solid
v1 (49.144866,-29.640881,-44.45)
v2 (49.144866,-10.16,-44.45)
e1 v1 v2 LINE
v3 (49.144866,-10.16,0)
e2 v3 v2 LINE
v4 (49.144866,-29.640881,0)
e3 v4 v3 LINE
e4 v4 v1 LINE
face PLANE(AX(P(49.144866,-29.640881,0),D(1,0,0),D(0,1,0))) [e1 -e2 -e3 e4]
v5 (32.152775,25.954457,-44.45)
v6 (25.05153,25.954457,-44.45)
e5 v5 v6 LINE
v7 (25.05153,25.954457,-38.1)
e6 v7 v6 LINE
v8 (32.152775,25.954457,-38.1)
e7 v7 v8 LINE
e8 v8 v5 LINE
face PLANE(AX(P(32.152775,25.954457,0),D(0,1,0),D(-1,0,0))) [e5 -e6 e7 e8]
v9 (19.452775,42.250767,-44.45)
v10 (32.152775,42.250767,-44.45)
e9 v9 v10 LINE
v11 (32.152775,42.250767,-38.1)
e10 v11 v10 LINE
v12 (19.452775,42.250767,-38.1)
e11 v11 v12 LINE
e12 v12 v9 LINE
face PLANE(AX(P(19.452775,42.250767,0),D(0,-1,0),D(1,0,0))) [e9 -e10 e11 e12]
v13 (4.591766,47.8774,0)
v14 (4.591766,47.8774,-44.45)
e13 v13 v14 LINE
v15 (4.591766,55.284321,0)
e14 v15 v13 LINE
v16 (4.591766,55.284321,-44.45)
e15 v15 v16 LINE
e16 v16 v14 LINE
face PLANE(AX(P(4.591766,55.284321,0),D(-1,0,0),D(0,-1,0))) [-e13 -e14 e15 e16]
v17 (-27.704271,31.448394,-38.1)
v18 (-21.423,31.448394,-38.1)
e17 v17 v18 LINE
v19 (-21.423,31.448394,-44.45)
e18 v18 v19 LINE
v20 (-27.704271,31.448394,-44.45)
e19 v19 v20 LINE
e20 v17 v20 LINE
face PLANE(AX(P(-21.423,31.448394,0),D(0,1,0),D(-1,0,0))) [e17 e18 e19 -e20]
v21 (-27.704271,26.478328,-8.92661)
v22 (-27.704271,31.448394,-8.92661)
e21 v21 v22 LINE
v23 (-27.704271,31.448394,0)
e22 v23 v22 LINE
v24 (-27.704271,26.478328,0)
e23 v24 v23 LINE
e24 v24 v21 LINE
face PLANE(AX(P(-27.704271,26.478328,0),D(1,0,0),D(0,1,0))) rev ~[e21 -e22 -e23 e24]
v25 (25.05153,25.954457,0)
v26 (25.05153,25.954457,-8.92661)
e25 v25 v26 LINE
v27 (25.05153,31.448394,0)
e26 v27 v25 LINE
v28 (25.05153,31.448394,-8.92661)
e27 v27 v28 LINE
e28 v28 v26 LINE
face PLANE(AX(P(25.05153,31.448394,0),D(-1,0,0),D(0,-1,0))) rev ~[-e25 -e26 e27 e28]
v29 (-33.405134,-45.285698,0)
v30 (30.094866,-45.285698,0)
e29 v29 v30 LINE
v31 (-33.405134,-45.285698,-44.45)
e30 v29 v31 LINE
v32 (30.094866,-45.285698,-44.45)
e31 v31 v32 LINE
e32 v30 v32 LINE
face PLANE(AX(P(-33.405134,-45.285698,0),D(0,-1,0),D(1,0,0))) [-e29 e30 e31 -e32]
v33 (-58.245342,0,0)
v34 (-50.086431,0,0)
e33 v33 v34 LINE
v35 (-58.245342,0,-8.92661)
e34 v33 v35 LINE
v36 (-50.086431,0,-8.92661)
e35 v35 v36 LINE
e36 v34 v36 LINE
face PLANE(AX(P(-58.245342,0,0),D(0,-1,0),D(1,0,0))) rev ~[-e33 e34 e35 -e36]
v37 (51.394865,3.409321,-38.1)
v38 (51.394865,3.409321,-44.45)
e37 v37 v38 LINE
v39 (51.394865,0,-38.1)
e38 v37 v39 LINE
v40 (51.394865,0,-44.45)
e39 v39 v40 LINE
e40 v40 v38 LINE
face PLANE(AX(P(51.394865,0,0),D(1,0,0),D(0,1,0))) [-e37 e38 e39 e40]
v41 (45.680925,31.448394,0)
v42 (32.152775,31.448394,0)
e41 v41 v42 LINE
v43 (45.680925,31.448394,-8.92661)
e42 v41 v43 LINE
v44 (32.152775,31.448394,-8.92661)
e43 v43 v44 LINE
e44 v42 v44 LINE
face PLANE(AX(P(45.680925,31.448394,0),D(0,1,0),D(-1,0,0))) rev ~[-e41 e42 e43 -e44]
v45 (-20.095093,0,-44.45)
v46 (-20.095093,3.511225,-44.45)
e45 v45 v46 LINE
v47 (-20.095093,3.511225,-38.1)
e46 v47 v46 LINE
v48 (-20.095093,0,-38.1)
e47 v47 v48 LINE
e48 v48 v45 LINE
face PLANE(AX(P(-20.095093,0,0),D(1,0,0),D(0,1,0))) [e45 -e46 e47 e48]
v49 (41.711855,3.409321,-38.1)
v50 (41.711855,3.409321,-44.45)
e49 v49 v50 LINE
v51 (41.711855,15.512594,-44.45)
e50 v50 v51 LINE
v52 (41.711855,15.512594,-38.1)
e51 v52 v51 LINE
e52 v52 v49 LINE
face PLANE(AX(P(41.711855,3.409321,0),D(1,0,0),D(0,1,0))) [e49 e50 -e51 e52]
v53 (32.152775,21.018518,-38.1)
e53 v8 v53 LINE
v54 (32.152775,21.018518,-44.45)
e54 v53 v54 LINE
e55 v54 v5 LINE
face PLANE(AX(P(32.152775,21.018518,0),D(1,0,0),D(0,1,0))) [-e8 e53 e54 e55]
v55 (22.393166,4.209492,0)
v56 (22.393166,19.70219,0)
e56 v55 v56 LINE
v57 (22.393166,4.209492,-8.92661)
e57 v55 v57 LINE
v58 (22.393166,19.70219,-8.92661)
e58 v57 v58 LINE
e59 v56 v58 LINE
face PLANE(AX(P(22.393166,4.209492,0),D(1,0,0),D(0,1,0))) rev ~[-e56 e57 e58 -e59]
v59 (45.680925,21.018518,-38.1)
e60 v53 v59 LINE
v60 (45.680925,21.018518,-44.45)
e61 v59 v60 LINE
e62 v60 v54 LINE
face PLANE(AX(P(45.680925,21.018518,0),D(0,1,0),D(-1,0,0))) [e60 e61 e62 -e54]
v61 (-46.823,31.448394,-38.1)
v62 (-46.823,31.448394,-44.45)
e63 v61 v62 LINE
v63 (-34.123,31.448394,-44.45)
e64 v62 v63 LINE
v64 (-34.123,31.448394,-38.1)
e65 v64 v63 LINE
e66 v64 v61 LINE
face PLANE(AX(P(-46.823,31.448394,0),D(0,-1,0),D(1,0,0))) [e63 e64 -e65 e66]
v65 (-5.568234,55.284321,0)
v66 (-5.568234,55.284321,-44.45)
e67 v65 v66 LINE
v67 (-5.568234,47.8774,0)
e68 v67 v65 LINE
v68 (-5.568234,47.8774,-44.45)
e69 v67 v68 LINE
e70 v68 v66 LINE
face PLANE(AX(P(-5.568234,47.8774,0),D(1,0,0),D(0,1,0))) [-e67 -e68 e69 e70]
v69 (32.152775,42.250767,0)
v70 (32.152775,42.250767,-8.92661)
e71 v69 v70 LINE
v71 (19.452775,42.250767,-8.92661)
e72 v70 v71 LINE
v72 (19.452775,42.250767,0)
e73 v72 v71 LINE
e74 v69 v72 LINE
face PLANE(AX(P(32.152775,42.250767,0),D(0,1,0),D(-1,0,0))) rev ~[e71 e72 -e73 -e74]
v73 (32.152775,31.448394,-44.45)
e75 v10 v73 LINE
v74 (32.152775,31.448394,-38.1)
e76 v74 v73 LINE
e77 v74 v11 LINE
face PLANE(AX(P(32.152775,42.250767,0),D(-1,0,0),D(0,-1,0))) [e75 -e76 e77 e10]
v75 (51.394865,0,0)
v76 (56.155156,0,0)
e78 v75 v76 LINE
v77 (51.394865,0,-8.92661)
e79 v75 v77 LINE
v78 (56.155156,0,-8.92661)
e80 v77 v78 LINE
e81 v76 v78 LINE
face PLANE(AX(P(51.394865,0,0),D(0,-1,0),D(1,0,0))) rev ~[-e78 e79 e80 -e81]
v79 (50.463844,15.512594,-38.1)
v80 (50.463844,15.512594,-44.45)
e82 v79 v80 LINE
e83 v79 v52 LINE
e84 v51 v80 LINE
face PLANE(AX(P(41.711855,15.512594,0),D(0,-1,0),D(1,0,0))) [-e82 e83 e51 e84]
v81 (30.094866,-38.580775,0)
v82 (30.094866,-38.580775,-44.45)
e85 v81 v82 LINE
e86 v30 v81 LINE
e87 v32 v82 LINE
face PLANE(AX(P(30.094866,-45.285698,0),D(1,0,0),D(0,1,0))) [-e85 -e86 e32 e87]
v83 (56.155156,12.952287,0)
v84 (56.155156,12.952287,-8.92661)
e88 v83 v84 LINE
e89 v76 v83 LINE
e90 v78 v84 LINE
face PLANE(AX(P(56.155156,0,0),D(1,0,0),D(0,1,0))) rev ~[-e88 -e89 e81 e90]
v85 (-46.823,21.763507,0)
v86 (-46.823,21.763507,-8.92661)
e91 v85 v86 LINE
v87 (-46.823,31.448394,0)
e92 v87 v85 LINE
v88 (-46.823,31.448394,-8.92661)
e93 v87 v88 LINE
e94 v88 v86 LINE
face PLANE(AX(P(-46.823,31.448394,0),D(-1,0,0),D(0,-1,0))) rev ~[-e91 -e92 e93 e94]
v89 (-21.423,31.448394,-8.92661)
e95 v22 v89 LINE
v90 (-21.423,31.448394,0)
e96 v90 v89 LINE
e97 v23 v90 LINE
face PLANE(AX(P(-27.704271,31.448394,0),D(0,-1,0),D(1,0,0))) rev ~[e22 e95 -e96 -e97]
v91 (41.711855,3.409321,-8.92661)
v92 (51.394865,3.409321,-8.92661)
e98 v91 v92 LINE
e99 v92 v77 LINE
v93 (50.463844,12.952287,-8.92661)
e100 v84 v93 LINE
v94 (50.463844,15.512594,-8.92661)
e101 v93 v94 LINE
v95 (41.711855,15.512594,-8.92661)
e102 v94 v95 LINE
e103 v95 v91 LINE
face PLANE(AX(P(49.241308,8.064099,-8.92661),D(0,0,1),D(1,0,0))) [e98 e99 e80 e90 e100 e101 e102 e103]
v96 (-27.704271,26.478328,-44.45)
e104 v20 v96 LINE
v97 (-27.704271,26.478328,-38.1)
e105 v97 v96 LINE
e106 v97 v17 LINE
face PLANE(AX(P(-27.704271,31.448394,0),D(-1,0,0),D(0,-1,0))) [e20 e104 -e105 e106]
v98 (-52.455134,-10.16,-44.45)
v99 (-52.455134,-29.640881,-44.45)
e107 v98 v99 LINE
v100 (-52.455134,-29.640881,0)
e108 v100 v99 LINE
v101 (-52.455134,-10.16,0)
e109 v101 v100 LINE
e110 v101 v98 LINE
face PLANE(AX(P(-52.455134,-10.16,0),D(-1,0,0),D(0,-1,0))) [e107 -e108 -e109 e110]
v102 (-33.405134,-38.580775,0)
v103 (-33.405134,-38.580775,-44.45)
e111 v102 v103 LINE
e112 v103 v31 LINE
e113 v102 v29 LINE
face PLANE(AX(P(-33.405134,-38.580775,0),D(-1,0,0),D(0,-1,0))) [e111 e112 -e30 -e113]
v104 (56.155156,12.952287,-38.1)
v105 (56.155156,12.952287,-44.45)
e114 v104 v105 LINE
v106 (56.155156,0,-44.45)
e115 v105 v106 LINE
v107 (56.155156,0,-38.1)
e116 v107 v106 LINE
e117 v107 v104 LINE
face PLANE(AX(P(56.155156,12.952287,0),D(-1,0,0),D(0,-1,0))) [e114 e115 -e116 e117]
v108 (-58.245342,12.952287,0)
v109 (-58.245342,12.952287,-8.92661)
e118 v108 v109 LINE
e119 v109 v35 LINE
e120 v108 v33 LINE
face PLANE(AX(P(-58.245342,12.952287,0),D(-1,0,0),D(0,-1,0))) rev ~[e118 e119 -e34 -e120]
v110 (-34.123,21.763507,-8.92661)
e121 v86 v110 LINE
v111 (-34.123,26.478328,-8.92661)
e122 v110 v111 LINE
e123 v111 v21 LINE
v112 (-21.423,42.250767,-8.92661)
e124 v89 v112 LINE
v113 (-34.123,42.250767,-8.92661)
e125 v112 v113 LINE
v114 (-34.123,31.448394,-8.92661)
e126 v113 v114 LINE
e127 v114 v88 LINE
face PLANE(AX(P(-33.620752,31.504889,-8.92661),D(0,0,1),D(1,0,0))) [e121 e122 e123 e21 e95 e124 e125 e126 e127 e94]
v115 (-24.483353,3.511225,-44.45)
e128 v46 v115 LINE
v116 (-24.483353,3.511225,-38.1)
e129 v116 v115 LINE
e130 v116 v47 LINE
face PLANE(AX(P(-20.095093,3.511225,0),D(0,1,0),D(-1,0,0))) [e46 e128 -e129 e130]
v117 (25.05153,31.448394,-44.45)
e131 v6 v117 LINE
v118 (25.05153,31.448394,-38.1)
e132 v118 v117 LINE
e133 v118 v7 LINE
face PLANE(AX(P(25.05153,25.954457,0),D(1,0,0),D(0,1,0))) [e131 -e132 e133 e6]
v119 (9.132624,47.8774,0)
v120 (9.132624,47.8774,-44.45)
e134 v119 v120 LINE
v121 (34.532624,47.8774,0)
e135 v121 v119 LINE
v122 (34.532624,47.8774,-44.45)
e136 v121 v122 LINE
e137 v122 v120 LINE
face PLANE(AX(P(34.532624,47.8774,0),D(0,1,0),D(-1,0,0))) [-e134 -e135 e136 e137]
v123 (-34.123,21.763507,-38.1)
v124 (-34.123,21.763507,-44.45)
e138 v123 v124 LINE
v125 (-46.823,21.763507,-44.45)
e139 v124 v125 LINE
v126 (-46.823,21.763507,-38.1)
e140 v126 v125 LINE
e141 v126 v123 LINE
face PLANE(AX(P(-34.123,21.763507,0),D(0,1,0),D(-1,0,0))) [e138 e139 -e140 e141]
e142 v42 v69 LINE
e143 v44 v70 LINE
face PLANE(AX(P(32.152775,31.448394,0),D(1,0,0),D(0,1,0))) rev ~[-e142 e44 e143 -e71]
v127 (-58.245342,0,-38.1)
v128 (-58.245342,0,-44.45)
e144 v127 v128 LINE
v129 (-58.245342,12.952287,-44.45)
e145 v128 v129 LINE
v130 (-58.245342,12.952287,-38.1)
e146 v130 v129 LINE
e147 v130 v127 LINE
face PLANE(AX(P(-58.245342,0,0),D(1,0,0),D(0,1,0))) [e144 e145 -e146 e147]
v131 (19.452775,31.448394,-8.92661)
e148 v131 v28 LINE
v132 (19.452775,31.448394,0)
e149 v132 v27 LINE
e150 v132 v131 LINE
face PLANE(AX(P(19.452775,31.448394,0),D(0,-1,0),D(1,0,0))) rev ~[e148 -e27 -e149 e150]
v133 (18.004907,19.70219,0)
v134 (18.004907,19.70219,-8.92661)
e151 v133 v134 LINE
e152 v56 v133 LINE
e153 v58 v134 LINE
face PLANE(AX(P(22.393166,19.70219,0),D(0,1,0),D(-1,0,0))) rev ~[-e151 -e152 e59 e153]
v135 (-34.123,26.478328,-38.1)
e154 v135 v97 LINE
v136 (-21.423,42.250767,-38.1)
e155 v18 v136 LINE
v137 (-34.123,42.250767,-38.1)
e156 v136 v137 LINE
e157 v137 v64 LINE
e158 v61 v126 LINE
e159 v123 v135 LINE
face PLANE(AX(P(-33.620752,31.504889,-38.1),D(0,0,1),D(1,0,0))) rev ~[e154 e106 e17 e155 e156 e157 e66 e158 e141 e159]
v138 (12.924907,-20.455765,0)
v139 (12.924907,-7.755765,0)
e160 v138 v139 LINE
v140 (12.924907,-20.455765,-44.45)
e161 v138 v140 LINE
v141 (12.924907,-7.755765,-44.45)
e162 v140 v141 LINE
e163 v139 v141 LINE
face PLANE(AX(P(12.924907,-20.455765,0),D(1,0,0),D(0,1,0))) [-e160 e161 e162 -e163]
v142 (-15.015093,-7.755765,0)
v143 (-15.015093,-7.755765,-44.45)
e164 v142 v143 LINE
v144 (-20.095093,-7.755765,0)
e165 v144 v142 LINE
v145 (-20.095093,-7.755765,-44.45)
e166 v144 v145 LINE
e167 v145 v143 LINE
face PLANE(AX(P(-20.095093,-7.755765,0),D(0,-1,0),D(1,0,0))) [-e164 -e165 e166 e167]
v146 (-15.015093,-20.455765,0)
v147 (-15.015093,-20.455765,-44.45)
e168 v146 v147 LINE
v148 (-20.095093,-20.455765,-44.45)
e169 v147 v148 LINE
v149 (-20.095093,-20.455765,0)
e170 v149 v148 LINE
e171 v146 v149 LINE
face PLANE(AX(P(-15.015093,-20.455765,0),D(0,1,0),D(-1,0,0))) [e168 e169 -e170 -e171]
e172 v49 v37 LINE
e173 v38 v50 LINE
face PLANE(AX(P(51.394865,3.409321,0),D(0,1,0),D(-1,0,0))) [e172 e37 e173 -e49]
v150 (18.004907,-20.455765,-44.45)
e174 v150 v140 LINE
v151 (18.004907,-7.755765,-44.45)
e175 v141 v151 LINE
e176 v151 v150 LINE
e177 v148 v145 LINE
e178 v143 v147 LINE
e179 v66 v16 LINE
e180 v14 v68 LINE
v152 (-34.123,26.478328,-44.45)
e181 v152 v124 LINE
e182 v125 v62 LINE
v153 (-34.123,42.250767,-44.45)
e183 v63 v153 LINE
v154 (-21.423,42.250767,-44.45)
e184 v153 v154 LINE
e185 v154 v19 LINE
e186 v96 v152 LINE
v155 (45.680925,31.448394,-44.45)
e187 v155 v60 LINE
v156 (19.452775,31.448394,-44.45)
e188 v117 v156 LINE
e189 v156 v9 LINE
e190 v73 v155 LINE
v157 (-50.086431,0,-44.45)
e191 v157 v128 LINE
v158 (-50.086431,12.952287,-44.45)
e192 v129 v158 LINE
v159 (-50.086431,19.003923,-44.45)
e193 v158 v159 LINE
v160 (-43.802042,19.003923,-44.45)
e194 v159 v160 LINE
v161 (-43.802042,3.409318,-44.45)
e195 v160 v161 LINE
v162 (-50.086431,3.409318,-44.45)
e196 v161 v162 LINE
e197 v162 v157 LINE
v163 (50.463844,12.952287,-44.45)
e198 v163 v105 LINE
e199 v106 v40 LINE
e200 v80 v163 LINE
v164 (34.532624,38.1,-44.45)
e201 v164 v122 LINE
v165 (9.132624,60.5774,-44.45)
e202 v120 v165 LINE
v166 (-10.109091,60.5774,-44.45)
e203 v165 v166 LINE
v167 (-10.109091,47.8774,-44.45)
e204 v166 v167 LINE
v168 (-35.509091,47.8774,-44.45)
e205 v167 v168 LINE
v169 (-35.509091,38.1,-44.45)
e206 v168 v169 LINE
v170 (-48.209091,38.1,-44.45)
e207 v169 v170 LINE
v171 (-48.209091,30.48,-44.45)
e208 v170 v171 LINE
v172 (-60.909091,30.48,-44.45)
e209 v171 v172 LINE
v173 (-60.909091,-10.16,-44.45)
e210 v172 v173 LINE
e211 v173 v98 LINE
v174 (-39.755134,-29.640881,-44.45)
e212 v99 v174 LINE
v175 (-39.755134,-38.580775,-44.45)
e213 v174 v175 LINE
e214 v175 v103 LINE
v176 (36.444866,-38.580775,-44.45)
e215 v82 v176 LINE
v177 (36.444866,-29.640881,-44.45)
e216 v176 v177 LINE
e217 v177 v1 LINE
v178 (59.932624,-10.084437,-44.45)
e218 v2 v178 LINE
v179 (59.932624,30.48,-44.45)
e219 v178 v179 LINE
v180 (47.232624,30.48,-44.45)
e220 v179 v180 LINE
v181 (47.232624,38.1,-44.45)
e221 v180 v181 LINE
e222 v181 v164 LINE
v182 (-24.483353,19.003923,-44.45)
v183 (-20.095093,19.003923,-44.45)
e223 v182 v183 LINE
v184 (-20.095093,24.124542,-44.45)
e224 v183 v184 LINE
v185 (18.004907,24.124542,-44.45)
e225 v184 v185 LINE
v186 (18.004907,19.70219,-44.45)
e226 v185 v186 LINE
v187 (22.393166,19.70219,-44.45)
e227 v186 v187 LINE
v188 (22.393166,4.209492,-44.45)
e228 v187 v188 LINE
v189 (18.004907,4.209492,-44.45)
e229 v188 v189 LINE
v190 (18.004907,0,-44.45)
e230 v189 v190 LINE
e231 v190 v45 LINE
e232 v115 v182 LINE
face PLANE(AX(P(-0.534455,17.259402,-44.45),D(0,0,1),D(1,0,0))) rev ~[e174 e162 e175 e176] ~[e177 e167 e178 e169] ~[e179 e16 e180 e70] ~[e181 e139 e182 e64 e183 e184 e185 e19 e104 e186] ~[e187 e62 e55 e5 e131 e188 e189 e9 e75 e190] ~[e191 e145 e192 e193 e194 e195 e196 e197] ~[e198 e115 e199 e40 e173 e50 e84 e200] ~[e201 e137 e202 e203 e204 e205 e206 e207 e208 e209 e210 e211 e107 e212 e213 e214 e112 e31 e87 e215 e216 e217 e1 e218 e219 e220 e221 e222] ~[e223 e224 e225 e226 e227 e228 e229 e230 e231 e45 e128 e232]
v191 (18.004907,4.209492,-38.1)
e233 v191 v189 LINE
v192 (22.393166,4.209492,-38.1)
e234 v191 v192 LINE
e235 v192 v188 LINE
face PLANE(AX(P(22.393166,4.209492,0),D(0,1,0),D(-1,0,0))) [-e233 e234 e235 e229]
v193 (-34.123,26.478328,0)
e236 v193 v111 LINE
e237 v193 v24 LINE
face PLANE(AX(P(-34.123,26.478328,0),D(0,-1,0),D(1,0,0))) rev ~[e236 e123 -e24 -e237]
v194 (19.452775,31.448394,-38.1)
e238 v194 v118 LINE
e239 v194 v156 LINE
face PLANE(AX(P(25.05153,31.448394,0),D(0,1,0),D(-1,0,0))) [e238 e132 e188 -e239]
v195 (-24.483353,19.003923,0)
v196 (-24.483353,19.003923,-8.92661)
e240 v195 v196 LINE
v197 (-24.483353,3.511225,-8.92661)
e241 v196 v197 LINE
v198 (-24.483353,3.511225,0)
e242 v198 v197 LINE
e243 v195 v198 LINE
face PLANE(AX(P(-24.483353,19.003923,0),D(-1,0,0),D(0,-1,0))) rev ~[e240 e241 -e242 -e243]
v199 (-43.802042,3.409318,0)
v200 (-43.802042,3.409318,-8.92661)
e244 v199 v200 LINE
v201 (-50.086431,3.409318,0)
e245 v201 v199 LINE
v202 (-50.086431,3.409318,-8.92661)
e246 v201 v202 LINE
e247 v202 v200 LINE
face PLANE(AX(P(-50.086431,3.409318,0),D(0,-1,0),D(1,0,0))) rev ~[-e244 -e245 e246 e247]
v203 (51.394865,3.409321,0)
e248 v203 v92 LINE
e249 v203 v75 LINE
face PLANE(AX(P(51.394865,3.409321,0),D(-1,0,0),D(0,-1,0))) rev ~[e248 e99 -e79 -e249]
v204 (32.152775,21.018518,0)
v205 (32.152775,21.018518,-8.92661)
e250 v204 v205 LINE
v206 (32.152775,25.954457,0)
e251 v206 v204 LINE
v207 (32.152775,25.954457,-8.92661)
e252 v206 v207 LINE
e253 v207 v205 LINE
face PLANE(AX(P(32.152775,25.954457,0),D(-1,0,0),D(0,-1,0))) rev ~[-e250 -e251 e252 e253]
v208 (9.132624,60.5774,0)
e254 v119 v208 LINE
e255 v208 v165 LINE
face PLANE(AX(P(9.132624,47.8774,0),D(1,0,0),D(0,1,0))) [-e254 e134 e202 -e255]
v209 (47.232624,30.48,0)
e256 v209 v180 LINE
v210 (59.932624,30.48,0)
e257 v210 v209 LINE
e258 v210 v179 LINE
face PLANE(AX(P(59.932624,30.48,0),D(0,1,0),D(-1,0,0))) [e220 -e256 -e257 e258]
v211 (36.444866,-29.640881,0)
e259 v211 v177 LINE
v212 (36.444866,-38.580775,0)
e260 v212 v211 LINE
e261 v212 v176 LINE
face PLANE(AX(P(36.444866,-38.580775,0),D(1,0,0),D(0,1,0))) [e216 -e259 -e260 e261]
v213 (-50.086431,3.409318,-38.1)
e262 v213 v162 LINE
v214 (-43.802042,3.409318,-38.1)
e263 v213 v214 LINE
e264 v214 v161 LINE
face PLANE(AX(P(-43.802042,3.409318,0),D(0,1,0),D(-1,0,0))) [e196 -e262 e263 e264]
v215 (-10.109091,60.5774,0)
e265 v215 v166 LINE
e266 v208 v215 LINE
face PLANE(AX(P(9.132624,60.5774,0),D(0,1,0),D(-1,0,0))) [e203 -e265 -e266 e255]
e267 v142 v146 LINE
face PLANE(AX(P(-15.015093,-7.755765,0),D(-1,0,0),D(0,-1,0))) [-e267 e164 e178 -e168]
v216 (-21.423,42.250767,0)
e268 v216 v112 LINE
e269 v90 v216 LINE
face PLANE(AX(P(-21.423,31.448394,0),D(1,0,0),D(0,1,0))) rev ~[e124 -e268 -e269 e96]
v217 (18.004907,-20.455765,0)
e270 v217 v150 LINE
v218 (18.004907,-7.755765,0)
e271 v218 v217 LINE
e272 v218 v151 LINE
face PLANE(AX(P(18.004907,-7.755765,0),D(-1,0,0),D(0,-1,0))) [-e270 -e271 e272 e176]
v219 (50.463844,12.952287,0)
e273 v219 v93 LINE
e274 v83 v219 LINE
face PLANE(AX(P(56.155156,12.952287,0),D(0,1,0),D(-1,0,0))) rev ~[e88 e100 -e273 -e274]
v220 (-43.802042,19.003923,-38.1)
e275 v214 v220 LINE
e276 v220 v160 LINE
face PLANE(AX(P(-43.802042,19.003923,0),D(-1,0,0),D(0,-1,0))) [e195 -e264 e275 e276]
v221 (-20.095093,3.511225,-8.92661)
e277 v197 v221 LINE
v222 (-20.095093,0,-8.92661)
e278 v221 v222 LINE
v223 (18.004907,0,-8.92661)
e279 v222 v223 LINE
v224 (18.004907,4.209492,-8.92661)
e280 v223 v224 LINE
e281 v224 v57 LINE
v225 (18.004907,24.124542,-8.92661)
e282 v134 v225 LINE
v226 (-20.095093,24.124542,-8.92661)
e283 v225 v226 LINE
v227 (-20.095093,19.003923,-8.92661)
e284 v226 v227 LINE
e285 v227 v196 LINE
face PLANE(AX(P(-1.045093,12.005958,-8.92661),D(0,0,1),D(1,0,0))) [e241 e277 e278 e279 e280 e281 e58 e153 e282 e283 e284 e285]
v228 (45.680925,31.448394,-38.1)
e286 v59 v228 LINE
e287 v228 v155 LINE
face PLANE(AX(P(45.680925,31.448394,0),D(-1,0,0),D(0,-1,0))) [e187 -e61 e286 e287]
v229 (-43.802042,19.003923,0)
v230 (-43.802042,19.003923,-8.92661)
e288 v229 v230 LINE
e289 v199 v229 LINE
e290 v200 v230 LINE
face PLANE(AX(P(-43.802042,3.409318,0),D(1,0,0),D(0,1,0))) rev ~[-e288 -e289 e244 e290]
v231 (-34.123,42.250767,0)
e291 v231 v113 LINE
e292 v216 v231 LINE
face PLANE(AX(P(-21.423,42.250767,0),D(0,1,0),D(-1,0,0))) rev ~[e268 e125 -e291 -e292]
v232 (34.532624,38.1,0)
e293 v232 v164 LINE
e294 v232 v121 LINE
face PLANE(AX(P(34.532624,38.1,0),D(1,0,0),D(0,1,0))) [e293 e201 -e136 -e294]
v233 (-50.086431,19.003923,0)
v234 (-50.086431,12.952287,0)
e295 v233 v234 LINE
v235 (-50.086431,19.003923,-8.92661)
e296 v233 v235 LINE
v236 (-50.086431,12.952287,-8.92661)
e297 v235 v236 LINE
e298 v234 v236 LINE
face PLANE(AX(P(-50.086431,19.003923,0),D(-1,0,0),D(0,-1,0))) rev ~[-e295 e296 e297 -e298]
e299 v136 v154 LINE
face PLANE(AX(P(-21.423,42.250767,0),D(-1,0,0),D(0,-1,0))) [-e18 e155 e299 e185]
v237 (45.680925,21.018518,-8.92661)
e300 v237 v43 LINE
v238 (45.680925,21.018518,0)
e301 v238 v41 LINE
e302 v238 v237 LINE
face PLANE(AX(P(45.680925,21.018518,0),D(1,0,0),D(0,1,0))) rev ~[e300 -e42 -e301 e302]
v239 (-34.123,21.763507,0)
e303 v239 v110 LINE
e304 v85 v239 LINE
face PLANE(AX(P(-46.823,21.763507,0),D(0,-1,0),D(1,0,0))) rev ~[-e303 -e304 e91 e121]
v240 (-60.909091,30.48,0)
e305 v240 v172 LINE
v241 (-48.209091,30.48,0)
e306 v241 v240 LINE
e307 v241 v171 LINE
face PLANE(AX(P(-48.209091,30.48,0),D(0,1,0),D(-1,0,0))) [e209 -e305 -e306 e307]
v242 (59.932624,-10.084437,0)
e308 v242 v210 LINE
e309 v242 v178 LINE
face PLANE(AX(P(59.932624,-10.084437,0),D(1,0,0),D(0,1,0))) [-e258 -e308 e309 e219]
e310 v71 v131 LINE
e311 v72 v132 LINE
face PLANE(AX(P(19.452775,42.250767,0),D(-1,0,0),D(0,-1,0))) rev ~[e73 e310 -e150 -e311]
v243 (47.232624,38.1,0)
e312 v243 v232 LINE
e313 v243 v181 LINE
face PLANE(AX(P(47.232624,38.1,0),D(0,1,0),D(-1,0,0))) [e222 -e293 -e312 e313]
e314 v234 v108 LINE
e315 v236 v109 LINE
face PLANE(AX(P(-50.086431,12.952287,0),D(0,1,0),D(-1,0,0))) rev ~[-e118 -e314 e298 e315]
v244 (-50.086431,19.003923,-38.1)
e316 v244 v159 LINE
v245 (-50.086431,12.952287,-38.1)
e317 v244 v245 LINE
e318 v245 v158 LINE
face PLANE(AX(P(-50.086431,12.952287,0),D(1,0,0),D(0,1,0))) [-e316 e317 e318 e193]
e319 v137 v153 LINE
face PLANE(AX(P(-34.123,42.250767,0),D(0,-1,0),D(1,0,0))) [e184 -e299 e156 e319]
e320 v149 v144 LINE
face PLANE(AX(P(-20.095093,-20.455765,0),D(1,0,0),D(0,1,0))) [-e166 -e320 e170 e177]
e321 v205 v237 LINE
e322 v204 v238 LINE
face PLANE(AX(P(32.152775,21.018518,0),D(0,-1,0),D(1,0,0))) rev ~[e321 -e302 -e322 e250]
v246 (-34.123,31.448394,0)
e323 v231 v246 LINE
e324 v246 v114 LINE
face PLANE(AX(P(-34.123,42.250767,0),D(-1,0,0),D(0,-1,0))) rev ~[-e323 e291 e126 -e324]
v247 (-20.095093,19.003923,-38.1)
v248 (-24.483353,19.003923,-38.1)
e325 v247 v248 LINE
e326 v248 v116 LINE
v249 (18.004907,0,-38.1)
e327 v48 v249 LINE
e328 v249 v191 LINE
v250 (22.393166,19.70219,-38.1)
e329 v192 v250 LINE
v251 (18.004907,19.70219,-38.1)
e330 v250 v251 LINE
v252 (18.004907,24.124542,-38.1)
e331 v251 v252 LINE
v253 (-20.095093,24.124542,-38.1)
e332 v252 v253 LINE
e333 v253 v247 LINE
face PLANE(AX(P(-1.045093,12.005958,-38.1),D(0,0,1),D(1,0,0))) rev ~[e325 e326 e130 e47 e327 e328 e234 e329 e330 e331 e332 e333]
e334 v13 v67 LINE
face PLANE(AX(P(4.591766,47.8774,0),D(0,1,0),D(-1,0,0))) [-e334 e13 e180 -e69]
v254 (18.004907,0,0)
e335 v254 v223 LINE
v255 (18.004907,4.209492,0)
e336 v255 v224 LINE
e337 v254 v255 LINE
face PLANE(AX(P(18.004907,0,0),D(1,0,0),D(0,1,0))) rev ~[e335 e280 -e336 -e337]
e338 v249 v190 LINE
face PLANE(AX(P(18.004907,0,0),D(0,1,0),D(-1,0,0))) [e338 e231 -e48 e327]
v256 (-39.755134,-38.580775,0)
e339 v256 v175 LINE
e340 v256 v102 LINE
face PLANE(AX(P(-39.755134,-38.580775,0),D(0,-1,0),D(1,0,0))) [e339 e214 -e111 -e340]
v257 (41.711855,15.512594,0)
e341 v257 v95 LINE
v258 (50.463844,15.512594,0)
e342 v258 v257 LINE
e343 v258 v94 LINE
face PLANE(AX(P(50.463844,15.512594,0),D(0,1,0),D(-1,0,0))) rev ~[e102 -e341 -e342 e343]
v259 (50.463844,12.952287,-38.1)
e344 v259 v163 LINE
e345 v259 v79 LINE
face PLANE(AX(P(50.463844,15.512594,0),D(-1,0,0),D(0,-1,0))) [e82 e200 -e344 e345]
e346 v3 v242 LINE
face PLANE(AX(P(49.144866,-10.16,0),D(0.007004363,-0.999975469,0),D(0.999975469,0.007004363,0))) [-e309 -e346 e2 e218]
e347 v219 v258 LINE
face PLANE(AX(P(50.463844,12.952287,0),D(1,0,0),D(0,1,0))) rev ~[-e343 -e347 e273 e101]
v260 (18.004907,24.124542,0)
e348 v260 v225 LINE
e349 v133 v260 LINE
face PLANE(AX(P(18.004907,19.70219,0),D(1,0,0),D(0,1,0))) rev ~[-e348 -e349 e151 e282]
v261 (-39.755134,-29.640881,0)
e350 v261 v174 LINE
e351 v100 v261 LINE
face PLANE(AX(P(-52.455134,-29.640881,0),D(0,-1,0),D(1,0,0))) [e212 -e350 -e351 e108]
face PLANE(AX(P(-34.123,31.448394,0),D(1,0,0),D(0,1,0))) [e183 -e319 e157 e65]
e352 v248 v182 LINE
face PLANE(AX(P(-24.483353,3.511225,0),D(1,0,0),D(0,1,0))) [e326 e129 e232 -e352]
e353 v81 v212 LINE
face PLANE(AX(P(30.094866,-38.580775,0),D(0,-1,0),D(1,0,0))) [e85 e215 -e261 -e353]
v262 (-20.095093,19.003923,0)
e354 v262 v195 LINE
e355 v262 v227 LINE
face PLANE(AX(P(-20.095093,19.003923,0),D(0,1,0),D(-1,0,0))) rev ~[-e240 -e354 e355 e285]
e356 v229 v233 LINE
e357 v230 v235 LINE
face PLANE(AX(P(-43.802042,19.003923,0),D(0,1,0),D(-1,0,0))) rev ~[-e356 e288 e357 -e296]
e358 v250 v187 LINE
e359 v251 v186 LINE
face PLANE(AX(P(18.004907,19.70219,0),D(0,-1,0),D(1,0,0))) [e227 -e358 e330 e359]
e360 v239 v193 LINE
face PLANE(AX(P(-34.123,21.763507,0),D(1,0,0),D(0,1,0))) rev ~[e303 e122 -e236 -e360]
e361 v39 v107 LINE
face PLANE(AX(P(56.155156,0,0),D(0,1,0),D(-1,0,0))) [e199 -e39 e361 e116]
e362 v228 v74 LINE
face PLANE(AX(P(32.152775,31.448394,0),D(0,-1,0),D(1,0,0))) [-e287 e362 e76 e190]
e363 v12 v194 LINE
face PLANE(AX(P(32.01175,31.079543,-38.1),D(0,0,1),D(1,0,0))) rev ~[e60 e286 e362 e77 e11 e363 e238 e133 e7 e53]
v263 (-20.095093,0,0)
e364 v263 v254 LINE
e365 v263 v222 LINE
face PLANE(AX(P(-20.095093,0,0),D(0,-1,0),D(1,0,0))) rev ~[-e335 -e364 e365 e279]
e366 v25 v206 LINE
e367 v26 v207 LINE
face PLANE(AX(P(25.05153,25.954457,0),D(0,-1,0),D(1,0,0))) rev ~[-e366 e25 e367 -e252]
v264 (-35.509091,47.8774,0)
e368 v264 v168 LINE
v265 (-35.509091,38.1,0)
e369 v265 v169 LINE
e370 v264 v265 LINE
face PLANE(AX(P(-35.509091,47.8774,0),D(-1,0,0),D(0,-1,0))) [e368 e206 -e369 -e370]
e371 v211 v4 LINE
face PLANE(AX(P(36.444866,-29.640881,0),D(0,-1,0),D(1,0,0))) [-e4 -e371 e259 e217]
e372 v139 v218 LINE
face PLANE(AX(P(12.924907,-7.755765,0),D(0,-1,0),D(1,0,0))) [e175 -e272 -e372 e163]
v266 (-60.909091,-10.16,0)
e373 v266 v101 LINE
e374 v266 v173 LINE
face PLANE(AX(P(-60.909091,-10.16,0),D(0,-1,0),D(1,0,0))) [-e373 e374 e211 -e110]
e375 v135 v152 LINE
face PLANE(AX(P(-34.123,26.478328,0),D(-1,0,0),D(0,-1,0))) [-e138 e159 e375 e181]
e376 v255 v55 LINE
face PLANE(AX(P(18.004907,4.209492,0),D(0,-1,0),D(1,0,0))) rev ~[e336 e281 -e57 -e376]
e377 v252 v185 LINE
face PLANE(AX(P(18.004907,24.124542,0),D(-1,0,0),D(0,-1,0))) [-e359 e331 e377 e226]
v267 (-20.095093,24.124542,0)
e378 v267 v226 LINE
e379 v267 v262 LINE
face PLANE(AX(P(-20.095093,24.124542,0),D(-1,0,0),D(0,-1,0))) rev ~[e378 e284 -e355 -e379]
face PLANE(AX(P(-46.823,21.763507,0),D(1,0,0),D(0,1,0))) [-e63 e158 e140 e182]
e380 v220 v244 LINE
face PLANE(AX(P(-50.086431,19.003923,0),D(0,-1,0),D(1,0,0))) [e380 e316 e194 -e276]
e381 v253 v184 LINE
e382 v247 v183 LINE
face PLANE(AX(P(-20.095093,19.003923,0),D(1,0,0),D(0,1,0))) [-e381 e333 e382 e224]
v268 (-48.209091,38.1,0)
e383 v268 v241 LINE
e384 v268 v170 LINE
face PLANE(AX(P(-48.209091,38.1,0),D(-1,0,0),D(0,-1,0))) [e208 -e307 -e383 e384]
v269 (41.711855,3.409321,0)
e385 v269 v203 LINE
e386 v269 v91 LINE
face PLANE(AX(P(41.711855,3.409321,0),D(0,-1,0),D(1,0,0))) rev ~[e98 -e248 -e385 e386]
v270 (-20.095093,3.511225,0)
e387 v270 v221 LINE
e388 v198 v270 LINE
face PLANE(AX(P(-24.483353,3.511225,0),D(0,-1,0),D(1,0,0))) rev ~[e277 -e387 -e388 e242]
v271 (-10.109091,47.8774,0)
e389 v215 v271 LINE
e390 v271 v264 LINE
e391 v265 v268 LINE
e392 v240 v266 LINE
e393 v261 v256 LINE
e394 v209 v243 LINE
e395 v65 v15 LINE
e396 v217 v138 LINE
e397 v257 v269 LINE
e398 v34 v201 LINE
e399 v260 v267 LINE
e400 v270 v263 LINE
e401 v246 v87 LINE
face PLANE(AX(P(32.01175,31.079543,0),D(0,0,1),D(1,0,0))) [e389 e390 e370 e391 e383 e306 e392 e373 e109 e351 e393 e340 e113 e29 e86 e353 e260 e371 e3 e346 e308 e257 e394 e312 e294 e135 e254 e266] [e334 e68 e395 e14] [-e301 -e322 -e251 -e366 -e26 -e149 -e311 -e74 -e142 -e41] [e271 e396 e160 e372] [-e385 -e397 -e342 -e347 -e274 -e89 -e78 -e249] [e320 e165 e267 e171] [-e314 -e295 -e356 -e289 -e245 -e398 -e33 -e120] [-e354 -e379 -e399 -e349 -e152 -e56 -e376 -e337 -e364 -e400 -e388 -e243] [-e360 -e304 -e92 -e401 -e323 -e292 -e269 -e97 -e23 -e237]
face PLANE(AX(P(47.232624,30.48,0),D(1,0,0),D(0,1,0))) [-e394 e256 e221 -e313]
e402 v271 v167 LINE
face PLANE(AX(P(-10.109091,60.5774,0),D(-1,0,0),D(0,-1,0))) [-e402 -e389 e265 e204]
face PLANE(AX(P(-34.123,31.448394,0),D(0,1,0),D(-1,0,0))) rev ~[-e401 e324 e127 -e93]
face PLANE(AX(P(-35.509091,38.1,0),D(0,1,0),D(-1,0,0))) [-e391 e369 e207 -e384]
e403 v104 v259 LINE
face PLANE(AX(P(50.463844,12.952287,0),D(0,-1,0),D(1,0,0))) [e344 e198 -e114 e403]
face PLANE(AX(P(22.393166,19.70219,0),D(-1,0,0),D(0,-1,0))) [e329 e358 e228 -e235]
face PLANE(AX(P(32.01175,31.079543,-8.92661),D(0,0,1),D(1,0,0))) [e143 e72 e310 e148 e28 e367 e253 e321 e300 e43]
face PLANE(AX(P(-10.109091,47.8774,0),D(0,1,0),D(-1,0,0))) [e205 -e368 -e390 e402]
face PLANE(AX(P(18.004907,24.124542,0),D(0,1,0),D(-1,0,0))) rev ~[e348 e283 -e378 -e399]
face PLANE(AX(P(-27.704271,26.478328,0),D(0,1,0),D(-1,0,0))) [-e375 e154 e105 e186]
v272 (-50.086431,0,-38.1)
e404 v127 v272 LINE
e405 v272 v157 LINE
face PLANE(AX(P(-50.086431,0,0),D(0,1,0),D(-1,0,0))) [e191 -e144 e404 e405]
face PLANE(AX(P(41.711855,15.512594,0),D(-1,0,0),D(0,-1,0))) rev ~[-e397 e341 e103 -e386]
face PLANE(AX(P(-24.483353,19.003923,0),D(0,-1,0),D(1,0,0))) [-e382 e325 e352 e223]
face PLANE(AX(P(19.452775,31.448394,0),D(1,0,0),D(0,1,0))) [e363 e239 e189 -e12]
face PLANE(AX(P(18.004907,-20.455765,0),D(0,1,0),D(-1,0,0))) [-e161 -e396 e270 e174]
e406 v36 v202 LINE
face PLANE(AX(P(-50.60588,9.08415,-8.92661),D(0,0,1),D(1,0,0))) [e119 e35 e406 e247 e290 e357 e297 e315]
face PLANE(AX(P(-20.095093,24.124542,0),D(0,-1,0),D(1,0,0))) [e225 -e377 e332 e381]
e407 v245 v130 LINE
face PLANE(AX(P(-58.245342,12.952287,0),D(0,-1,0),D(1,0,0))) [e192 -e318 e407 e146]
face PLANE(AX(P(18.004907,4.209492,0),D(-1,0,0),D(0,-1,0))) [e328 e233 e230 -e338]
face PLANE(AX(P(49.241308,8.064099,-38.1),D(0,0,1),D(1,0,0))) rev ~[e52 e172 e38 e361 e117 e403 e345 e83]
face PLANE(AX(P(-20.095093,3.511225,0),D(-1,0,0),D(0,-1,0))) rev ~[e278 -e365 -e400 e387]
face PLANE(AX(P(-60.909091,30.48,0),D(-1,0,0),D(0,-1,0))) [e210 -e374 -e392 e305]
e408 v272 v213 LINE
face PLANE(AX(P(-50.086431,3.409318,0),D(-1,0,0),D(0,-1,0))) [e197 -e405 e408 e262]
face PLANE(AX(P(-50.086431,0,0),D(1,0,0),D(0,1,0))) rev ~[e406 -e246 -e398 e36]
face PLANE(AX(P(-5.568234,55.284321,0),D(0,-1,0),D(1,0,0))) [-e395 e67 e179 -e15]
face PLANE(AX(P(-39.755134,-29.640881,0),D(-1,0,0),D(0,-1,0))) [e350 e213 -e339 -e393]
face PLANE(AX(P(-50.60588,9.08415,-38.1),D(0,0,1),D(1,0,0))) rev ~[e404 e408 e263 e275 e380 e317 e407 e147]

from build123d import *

# Parameters (mm, degrees)
F1_DEPTH = 44.45
F2_DEPTH = 38.1
F3_DEPTH = 8.92661


with BuildPart() as f1:
    # F0 (on Top) → F1 (new body)
    with BuildSketch(Plane.XY):
        Polygon((59.9326238802, -10.0844367775), (59.9326238802, 30.48), (47.2326238802, 30.48), (47.2326238802, 38.1), (34.5326238802, 38.1), (34.5326238802, 47.8773999231), (9.1326238802, 47.8773999231), (4.5917662157, 47.8773999231), (-5.5682337843, 47.8773999231), (-10.1090914488, 47.8773999231), (-35.5090914488, 47.8773999231), (-35.5090914488, 38.1), (-48.2090914488, 38.1), (-48.2090914488, 30.48), (-60.9090914488, 30.48), (-60.9090914488, -10.16), (-52.4551342213, -10.16), (-37.2151342213, -10.16), (-37.2151342213, -4.8143821768), (33.9048657787, -4.8143821768), (33.9048657787, -10.16), (49.1448657787, -10.16), align=None)
        Polygon((-58.2453422248, 12.9522867501), (-58.2453422248, 21.7635072768), (-46.8229997575, 21.7635072768), (-46.8229997575, 31.4483940601), (-34.1229997575, 31.4483940601), (-34.1229997575, 42.2507673502), (-21.4229997575, 42.2507673502), (19.4527748972, 42.2507673502), (32.1527748972, 42.2507673502), (32.1527748972, 31.4483940601), (45.6809252501, 31.4483940601), (45.6809252501, 21.018518135), (56.1551556194, 21.018518135), (56.1551556194, 12.9522867501), (56.1551556194, 0), (56.1551556194, -7.2993603218), (38.3249066973, -7.2993603218), (38.3249066973, -0.0041214007), (-40.4150933027, -0.0041214007), (-40.4150933027, -8.0205244012), (-58.2453422248, -8.0205244012), (-58.2453422248, 0), align=None, mode=Mode.SUBTRACT)
        Polygon((49.1448657787, -29.6408813447), (49.1448657787, -10.16), (33.9048657787, -10.16), (33.9048657787, -4.8143821768), (-37.2151342213, -4.8143821768), (-37.2151342213, -10.16), (-52.4551342213, -10.16), (-52.4551342213, -29.6408813447), (-39.7551342213, -29.6408813447), (-39.7551342213, -38.5807752609), (-33.4051342213, -38.5807752609), (-33.4051342213, -45.2856980264), (30.0948657787, -45.2856980264), (30.0948657787, -38.5807752609), (36.4448657787, -38.5807752609), (36.4448657787, -29.6408813447), align=None)
        Polygon((31.5474388957, -16.645764932), (44.2474388957, -16.645764932), (44.2474388957, -26.2884218246), (31.5474388957, -26.2884218246), (31.5474388957, -32.2483479977), (25.1974388957, -32.2483479977), (25.1974388957, -41.1882456392), (-28.3929689348, -41.1882456392), (-28.3929689348, -34.483326599), (-34.7429689348, -34.483326599), (-34.7429689348, -26.2884218246), (-47.4429689348, -26.2884218246), (-47.4429689348, -16.645764932), (-34.7429689348, -16.645764932), (-34.7429689348, -7.755764932), (-20.0950933027, -7.755764932), (-15.0150933027, -7.755764932), (12.9249066973, -7.755764932), (18.0049066973, -7.755764932), (31.5474388957, -7.755764932), align=None, mode=Mode.SUBTRACT)
        Polygon((-46.8229997575, 21.7635072768), (-58.2453422248, 21.7635072768), (-58.2453422248, 12.9522867501), (-50.0864312053, 12.9522867501), (-50.0864312053, 19.0039230511), (-43.8020415604, 19.0039230511), (-43.8020415604, 3.4093181603), (-50.0864312053, 3.4093181603), (-50.0864312053, 0), (-58.2453422248, 0), (-58.2453422248, -8.0205244012), (-40.4150933027, -8.0205244012), (-40.4150933027, -0.0041214007), (38.3249066973, -0.0041214007), (38.3249066973, -7.2993603218), (56.1551556194, -7.2993603218), (56.1551556194, 0), (51.3948649168, 0), (51.3948649168, 3.4093209542), (41.711854955, 3.4093209542), (41.711854955, 15.5125940219), (50.4638440907, 15.5125940219), (50.4638440907, 12.9522867501), (56.1551556194, 12.9522867501), (56.1551556194, 21.018518135), (45.6809252501, 21.018518135), (32.1527748972, 21.018518135), (32.1527748972, 25.9544569999), (25.0515304506, 25.9544569999), (25.0515304506, 31.4483940601), (19.4527748972, 31.4483940601), (19.4527748972, 42.2507673502), (-21.4229997575, 42.2507673502), (-21.4229997575, 31.4483940601), (-27.7042705566, 31.4483940601), (-27.7042705566, 26.4783278108), (-34.1229997575, 26.4783278108), (-34.1229997575, 21.7635072768), align=None)
        Polygon((18.0049066973, 0), (-20.0950933027, 0), (-20.0950933027, 3.511225339), (-24.4833528996, 3.511225339), (-24.4833528996, 19.0039230511), (-20.0950933027, 19.0039230511), (-20.0950933027, 24.1245422512), (18.0049066973, 24.1245422512), (18.0049066973, 19.702189602), (22.3931662941, 19.702189602), (22.3931662941, 4.2094918899), (18.0049066973, 4.2094918899), align=None, mode=Mode.SUBTRACT)
        Polygon((44.2474388957, -26.2884218246), (44.2474388957, -16.645764932), (31.5474388957, -16.645764932), (31.5474388957, -7.755764932), (18.0049066973, -7.755764932), (18.0049066973, -20.455764932), (12.9249066973, -20.455764932), (12.9249066973, -7.755764932), (-15.0150933027, -7.755764932), (-15.0150933027, -20.455764932), (-20.0950933027, -20.455764932), (-20.0950933027, -7.755764932), (-34.7429689348, -7.755764932), (-34.7429689348, -16.645764932), (-47.4429689348, -16.645764932), (-47.4429689348, -26.2884218246), (-34.7429689348, -26.2884218246), (-34.7429689348, -34.483326599), (-28.3929689348, -34.483326599), (-28.3929689348, -41.1882456392), (25.1974388957, -41.1882456392), (25.1974388957, -32.2483479977), (31.5474388957, -32.2483479977), (31.5474388957, -26.2884218246), align=None)
        Polygon((4.5917662157, 47.8773999231), (9.1326238802, 47.8773999231), (9.1326238802, 60.5773999231), (-10.1090914488, 60.5773999231), (-10.1090914488, 47.8773999231), (-5.5682337843, 47.8773999231), (-5.5682337843, 55.2843213081), (4.5917662157, 55.2843213081), align=None)
    extrude(amount=-F1_DEPTH)

    # F0 (on Top) → F2 (join)
    with BuildSketch(Plane.XY):
        Polygon((32.1527748972, 42.2507673502), (19.4527748972, 42.2507673502), (19.4527748972, 31.4483940601), (25.0515304506, 31.4483940601), (25.0515304506, 25.9544569999), (32.1527748972, 25.9544569999), (32.1527748972, 21.018518135), (45.6809252501, 21.018518135), (45.6809252501, 31.4483940601), (32.1527748972, 31.4483940601), align=None)
        Polygon((51.3948649168, 0), (56.1551556194, 0), (56.1551556194, 12.9522867501), (50.4638440907, 12.9522867501), (50.4638440907, 15.5125940219), (41.711854955, 15.5125940219), (41.711854955, 3.4093209542), (51.3948649168, 3.4093209542), align=None)
        Polygon((-20.0950933027, 3.511225339), (-20.0950933027, 0), (18.0049066973, 0), (18.0049066973, 4.2094918899), (22.3931662941, 4.2094918899), (22.3931662941, 19.702189602), (18.0049066973, 19.702189602), (18.0049066973, 24.1245422512), (-20.0950933027, 24.1245422512), (-20.0950933027, 19.0039230511), (-24.4833528996, 19.0039230511), (-24.4833528996, 3.511225339), align=None)
        Polygon((-46.8229997575, 31.4483940601), (-46.8229997575, 21.7635072768), (-34.1229997575, 21.7635072768), (-34.1229997575, 26.4783278108), (-27.7042705566, 26.4783278108), (-27.7042705566, 31.4483940601), (-21.4229997575, 31.4483940601), (-21.4229997575, 42.2507673502), (-34.1229997575, 42.2507673502), (-34.1229997575, 31.4483940601), align=None)
        Polygon((-50.0864312053, 12.9522867501), (-58.2453422248, 12.9522867501), (-58.2453422248, 0), (-50.0864312053, 0), (-50.0864312053, 3.4093181603), (-43.8020415604, 3.4093181603), (-43.8020415604, 19.0039230511), (-50.0864312053, 19.0039230511), align=None)
    extrude(amount=-F2_DEPTH)

    # F0 (on Top) → F3 (cut)
    with BuildSketch(Plane.XY):
        Polygon((-50.0864312053, 12.9522867501), (-58.2453422248, 12.9522867501), (-58.2453422248, 0), (-50.0864312053, 0), (-50.0864312053, 3.4093181603), (-43.8020415604, 3.4093181603), (-43.8020415604, 19.0039230511), (-50.0864312053, 19.0039230511), align=None)
        Polygon((-46.8229997575, 31.4483940601), (-46.8229997575, 21.7635072768), (-34.1229997575, 21.7635072768), (-34.1229997575, 26.4783278108), (-27.7042705566, 26.4783278108), (-27.7042705566, 31.4483940601), (-21.4229997575, 31.4483940601), (-21.4229997575, 42.2507673502), (-34.1229997575, 42.2507673502), (-34.1229997575, 31.4483940601), align=None)
        Polygon((-20.0950933027, 3.511225339), (-20.0950933027, 0), (18.0049066973, 0), (18.0049066973, 4.2094918899), (22.3931662941, 4.2094918899), (22.3931662941, 19.702189602), (18.0049066973, 19.702189602), (18.0049066973, 24.1245422512), (-20.0950933027, 24.1245422512), (-20.0950933027, 19.0039230511), (-24.4833528996, 19.0039230511), (-24.4833528996, 3.511225339), align=None)
        Polygon((32.1527748972, 42.2507673502), (19.4527748972, 42.2507673502), (19.4527748972, 31.4483940601), (25.0515304506, 31.4483940601), (25.0515304506, 25.9544569999), (32.1527748972, 25.9544569999), (32.1527748972, 21.018518135), (45.6809252501, 21.018518135), (45.6809252501, 31.4483940601), (32.1527748972, 31.4483940601), align=None)
        Polygon((51.3948649168, 0), (56.1551556194, 0), (56.1551556194, 12.9522867501), (50.4638440907, 12.9522867501), (50.4638440907, 15.5125940219), (41.711854955, 15.5125940219), (41.711854955, 3.4093209542), (51.3948649168, 3.4093209542), align=None)
    extrude(amount=-F3_DEPTH, mode=Mode.SUBTRACT)


solid = f1.part
